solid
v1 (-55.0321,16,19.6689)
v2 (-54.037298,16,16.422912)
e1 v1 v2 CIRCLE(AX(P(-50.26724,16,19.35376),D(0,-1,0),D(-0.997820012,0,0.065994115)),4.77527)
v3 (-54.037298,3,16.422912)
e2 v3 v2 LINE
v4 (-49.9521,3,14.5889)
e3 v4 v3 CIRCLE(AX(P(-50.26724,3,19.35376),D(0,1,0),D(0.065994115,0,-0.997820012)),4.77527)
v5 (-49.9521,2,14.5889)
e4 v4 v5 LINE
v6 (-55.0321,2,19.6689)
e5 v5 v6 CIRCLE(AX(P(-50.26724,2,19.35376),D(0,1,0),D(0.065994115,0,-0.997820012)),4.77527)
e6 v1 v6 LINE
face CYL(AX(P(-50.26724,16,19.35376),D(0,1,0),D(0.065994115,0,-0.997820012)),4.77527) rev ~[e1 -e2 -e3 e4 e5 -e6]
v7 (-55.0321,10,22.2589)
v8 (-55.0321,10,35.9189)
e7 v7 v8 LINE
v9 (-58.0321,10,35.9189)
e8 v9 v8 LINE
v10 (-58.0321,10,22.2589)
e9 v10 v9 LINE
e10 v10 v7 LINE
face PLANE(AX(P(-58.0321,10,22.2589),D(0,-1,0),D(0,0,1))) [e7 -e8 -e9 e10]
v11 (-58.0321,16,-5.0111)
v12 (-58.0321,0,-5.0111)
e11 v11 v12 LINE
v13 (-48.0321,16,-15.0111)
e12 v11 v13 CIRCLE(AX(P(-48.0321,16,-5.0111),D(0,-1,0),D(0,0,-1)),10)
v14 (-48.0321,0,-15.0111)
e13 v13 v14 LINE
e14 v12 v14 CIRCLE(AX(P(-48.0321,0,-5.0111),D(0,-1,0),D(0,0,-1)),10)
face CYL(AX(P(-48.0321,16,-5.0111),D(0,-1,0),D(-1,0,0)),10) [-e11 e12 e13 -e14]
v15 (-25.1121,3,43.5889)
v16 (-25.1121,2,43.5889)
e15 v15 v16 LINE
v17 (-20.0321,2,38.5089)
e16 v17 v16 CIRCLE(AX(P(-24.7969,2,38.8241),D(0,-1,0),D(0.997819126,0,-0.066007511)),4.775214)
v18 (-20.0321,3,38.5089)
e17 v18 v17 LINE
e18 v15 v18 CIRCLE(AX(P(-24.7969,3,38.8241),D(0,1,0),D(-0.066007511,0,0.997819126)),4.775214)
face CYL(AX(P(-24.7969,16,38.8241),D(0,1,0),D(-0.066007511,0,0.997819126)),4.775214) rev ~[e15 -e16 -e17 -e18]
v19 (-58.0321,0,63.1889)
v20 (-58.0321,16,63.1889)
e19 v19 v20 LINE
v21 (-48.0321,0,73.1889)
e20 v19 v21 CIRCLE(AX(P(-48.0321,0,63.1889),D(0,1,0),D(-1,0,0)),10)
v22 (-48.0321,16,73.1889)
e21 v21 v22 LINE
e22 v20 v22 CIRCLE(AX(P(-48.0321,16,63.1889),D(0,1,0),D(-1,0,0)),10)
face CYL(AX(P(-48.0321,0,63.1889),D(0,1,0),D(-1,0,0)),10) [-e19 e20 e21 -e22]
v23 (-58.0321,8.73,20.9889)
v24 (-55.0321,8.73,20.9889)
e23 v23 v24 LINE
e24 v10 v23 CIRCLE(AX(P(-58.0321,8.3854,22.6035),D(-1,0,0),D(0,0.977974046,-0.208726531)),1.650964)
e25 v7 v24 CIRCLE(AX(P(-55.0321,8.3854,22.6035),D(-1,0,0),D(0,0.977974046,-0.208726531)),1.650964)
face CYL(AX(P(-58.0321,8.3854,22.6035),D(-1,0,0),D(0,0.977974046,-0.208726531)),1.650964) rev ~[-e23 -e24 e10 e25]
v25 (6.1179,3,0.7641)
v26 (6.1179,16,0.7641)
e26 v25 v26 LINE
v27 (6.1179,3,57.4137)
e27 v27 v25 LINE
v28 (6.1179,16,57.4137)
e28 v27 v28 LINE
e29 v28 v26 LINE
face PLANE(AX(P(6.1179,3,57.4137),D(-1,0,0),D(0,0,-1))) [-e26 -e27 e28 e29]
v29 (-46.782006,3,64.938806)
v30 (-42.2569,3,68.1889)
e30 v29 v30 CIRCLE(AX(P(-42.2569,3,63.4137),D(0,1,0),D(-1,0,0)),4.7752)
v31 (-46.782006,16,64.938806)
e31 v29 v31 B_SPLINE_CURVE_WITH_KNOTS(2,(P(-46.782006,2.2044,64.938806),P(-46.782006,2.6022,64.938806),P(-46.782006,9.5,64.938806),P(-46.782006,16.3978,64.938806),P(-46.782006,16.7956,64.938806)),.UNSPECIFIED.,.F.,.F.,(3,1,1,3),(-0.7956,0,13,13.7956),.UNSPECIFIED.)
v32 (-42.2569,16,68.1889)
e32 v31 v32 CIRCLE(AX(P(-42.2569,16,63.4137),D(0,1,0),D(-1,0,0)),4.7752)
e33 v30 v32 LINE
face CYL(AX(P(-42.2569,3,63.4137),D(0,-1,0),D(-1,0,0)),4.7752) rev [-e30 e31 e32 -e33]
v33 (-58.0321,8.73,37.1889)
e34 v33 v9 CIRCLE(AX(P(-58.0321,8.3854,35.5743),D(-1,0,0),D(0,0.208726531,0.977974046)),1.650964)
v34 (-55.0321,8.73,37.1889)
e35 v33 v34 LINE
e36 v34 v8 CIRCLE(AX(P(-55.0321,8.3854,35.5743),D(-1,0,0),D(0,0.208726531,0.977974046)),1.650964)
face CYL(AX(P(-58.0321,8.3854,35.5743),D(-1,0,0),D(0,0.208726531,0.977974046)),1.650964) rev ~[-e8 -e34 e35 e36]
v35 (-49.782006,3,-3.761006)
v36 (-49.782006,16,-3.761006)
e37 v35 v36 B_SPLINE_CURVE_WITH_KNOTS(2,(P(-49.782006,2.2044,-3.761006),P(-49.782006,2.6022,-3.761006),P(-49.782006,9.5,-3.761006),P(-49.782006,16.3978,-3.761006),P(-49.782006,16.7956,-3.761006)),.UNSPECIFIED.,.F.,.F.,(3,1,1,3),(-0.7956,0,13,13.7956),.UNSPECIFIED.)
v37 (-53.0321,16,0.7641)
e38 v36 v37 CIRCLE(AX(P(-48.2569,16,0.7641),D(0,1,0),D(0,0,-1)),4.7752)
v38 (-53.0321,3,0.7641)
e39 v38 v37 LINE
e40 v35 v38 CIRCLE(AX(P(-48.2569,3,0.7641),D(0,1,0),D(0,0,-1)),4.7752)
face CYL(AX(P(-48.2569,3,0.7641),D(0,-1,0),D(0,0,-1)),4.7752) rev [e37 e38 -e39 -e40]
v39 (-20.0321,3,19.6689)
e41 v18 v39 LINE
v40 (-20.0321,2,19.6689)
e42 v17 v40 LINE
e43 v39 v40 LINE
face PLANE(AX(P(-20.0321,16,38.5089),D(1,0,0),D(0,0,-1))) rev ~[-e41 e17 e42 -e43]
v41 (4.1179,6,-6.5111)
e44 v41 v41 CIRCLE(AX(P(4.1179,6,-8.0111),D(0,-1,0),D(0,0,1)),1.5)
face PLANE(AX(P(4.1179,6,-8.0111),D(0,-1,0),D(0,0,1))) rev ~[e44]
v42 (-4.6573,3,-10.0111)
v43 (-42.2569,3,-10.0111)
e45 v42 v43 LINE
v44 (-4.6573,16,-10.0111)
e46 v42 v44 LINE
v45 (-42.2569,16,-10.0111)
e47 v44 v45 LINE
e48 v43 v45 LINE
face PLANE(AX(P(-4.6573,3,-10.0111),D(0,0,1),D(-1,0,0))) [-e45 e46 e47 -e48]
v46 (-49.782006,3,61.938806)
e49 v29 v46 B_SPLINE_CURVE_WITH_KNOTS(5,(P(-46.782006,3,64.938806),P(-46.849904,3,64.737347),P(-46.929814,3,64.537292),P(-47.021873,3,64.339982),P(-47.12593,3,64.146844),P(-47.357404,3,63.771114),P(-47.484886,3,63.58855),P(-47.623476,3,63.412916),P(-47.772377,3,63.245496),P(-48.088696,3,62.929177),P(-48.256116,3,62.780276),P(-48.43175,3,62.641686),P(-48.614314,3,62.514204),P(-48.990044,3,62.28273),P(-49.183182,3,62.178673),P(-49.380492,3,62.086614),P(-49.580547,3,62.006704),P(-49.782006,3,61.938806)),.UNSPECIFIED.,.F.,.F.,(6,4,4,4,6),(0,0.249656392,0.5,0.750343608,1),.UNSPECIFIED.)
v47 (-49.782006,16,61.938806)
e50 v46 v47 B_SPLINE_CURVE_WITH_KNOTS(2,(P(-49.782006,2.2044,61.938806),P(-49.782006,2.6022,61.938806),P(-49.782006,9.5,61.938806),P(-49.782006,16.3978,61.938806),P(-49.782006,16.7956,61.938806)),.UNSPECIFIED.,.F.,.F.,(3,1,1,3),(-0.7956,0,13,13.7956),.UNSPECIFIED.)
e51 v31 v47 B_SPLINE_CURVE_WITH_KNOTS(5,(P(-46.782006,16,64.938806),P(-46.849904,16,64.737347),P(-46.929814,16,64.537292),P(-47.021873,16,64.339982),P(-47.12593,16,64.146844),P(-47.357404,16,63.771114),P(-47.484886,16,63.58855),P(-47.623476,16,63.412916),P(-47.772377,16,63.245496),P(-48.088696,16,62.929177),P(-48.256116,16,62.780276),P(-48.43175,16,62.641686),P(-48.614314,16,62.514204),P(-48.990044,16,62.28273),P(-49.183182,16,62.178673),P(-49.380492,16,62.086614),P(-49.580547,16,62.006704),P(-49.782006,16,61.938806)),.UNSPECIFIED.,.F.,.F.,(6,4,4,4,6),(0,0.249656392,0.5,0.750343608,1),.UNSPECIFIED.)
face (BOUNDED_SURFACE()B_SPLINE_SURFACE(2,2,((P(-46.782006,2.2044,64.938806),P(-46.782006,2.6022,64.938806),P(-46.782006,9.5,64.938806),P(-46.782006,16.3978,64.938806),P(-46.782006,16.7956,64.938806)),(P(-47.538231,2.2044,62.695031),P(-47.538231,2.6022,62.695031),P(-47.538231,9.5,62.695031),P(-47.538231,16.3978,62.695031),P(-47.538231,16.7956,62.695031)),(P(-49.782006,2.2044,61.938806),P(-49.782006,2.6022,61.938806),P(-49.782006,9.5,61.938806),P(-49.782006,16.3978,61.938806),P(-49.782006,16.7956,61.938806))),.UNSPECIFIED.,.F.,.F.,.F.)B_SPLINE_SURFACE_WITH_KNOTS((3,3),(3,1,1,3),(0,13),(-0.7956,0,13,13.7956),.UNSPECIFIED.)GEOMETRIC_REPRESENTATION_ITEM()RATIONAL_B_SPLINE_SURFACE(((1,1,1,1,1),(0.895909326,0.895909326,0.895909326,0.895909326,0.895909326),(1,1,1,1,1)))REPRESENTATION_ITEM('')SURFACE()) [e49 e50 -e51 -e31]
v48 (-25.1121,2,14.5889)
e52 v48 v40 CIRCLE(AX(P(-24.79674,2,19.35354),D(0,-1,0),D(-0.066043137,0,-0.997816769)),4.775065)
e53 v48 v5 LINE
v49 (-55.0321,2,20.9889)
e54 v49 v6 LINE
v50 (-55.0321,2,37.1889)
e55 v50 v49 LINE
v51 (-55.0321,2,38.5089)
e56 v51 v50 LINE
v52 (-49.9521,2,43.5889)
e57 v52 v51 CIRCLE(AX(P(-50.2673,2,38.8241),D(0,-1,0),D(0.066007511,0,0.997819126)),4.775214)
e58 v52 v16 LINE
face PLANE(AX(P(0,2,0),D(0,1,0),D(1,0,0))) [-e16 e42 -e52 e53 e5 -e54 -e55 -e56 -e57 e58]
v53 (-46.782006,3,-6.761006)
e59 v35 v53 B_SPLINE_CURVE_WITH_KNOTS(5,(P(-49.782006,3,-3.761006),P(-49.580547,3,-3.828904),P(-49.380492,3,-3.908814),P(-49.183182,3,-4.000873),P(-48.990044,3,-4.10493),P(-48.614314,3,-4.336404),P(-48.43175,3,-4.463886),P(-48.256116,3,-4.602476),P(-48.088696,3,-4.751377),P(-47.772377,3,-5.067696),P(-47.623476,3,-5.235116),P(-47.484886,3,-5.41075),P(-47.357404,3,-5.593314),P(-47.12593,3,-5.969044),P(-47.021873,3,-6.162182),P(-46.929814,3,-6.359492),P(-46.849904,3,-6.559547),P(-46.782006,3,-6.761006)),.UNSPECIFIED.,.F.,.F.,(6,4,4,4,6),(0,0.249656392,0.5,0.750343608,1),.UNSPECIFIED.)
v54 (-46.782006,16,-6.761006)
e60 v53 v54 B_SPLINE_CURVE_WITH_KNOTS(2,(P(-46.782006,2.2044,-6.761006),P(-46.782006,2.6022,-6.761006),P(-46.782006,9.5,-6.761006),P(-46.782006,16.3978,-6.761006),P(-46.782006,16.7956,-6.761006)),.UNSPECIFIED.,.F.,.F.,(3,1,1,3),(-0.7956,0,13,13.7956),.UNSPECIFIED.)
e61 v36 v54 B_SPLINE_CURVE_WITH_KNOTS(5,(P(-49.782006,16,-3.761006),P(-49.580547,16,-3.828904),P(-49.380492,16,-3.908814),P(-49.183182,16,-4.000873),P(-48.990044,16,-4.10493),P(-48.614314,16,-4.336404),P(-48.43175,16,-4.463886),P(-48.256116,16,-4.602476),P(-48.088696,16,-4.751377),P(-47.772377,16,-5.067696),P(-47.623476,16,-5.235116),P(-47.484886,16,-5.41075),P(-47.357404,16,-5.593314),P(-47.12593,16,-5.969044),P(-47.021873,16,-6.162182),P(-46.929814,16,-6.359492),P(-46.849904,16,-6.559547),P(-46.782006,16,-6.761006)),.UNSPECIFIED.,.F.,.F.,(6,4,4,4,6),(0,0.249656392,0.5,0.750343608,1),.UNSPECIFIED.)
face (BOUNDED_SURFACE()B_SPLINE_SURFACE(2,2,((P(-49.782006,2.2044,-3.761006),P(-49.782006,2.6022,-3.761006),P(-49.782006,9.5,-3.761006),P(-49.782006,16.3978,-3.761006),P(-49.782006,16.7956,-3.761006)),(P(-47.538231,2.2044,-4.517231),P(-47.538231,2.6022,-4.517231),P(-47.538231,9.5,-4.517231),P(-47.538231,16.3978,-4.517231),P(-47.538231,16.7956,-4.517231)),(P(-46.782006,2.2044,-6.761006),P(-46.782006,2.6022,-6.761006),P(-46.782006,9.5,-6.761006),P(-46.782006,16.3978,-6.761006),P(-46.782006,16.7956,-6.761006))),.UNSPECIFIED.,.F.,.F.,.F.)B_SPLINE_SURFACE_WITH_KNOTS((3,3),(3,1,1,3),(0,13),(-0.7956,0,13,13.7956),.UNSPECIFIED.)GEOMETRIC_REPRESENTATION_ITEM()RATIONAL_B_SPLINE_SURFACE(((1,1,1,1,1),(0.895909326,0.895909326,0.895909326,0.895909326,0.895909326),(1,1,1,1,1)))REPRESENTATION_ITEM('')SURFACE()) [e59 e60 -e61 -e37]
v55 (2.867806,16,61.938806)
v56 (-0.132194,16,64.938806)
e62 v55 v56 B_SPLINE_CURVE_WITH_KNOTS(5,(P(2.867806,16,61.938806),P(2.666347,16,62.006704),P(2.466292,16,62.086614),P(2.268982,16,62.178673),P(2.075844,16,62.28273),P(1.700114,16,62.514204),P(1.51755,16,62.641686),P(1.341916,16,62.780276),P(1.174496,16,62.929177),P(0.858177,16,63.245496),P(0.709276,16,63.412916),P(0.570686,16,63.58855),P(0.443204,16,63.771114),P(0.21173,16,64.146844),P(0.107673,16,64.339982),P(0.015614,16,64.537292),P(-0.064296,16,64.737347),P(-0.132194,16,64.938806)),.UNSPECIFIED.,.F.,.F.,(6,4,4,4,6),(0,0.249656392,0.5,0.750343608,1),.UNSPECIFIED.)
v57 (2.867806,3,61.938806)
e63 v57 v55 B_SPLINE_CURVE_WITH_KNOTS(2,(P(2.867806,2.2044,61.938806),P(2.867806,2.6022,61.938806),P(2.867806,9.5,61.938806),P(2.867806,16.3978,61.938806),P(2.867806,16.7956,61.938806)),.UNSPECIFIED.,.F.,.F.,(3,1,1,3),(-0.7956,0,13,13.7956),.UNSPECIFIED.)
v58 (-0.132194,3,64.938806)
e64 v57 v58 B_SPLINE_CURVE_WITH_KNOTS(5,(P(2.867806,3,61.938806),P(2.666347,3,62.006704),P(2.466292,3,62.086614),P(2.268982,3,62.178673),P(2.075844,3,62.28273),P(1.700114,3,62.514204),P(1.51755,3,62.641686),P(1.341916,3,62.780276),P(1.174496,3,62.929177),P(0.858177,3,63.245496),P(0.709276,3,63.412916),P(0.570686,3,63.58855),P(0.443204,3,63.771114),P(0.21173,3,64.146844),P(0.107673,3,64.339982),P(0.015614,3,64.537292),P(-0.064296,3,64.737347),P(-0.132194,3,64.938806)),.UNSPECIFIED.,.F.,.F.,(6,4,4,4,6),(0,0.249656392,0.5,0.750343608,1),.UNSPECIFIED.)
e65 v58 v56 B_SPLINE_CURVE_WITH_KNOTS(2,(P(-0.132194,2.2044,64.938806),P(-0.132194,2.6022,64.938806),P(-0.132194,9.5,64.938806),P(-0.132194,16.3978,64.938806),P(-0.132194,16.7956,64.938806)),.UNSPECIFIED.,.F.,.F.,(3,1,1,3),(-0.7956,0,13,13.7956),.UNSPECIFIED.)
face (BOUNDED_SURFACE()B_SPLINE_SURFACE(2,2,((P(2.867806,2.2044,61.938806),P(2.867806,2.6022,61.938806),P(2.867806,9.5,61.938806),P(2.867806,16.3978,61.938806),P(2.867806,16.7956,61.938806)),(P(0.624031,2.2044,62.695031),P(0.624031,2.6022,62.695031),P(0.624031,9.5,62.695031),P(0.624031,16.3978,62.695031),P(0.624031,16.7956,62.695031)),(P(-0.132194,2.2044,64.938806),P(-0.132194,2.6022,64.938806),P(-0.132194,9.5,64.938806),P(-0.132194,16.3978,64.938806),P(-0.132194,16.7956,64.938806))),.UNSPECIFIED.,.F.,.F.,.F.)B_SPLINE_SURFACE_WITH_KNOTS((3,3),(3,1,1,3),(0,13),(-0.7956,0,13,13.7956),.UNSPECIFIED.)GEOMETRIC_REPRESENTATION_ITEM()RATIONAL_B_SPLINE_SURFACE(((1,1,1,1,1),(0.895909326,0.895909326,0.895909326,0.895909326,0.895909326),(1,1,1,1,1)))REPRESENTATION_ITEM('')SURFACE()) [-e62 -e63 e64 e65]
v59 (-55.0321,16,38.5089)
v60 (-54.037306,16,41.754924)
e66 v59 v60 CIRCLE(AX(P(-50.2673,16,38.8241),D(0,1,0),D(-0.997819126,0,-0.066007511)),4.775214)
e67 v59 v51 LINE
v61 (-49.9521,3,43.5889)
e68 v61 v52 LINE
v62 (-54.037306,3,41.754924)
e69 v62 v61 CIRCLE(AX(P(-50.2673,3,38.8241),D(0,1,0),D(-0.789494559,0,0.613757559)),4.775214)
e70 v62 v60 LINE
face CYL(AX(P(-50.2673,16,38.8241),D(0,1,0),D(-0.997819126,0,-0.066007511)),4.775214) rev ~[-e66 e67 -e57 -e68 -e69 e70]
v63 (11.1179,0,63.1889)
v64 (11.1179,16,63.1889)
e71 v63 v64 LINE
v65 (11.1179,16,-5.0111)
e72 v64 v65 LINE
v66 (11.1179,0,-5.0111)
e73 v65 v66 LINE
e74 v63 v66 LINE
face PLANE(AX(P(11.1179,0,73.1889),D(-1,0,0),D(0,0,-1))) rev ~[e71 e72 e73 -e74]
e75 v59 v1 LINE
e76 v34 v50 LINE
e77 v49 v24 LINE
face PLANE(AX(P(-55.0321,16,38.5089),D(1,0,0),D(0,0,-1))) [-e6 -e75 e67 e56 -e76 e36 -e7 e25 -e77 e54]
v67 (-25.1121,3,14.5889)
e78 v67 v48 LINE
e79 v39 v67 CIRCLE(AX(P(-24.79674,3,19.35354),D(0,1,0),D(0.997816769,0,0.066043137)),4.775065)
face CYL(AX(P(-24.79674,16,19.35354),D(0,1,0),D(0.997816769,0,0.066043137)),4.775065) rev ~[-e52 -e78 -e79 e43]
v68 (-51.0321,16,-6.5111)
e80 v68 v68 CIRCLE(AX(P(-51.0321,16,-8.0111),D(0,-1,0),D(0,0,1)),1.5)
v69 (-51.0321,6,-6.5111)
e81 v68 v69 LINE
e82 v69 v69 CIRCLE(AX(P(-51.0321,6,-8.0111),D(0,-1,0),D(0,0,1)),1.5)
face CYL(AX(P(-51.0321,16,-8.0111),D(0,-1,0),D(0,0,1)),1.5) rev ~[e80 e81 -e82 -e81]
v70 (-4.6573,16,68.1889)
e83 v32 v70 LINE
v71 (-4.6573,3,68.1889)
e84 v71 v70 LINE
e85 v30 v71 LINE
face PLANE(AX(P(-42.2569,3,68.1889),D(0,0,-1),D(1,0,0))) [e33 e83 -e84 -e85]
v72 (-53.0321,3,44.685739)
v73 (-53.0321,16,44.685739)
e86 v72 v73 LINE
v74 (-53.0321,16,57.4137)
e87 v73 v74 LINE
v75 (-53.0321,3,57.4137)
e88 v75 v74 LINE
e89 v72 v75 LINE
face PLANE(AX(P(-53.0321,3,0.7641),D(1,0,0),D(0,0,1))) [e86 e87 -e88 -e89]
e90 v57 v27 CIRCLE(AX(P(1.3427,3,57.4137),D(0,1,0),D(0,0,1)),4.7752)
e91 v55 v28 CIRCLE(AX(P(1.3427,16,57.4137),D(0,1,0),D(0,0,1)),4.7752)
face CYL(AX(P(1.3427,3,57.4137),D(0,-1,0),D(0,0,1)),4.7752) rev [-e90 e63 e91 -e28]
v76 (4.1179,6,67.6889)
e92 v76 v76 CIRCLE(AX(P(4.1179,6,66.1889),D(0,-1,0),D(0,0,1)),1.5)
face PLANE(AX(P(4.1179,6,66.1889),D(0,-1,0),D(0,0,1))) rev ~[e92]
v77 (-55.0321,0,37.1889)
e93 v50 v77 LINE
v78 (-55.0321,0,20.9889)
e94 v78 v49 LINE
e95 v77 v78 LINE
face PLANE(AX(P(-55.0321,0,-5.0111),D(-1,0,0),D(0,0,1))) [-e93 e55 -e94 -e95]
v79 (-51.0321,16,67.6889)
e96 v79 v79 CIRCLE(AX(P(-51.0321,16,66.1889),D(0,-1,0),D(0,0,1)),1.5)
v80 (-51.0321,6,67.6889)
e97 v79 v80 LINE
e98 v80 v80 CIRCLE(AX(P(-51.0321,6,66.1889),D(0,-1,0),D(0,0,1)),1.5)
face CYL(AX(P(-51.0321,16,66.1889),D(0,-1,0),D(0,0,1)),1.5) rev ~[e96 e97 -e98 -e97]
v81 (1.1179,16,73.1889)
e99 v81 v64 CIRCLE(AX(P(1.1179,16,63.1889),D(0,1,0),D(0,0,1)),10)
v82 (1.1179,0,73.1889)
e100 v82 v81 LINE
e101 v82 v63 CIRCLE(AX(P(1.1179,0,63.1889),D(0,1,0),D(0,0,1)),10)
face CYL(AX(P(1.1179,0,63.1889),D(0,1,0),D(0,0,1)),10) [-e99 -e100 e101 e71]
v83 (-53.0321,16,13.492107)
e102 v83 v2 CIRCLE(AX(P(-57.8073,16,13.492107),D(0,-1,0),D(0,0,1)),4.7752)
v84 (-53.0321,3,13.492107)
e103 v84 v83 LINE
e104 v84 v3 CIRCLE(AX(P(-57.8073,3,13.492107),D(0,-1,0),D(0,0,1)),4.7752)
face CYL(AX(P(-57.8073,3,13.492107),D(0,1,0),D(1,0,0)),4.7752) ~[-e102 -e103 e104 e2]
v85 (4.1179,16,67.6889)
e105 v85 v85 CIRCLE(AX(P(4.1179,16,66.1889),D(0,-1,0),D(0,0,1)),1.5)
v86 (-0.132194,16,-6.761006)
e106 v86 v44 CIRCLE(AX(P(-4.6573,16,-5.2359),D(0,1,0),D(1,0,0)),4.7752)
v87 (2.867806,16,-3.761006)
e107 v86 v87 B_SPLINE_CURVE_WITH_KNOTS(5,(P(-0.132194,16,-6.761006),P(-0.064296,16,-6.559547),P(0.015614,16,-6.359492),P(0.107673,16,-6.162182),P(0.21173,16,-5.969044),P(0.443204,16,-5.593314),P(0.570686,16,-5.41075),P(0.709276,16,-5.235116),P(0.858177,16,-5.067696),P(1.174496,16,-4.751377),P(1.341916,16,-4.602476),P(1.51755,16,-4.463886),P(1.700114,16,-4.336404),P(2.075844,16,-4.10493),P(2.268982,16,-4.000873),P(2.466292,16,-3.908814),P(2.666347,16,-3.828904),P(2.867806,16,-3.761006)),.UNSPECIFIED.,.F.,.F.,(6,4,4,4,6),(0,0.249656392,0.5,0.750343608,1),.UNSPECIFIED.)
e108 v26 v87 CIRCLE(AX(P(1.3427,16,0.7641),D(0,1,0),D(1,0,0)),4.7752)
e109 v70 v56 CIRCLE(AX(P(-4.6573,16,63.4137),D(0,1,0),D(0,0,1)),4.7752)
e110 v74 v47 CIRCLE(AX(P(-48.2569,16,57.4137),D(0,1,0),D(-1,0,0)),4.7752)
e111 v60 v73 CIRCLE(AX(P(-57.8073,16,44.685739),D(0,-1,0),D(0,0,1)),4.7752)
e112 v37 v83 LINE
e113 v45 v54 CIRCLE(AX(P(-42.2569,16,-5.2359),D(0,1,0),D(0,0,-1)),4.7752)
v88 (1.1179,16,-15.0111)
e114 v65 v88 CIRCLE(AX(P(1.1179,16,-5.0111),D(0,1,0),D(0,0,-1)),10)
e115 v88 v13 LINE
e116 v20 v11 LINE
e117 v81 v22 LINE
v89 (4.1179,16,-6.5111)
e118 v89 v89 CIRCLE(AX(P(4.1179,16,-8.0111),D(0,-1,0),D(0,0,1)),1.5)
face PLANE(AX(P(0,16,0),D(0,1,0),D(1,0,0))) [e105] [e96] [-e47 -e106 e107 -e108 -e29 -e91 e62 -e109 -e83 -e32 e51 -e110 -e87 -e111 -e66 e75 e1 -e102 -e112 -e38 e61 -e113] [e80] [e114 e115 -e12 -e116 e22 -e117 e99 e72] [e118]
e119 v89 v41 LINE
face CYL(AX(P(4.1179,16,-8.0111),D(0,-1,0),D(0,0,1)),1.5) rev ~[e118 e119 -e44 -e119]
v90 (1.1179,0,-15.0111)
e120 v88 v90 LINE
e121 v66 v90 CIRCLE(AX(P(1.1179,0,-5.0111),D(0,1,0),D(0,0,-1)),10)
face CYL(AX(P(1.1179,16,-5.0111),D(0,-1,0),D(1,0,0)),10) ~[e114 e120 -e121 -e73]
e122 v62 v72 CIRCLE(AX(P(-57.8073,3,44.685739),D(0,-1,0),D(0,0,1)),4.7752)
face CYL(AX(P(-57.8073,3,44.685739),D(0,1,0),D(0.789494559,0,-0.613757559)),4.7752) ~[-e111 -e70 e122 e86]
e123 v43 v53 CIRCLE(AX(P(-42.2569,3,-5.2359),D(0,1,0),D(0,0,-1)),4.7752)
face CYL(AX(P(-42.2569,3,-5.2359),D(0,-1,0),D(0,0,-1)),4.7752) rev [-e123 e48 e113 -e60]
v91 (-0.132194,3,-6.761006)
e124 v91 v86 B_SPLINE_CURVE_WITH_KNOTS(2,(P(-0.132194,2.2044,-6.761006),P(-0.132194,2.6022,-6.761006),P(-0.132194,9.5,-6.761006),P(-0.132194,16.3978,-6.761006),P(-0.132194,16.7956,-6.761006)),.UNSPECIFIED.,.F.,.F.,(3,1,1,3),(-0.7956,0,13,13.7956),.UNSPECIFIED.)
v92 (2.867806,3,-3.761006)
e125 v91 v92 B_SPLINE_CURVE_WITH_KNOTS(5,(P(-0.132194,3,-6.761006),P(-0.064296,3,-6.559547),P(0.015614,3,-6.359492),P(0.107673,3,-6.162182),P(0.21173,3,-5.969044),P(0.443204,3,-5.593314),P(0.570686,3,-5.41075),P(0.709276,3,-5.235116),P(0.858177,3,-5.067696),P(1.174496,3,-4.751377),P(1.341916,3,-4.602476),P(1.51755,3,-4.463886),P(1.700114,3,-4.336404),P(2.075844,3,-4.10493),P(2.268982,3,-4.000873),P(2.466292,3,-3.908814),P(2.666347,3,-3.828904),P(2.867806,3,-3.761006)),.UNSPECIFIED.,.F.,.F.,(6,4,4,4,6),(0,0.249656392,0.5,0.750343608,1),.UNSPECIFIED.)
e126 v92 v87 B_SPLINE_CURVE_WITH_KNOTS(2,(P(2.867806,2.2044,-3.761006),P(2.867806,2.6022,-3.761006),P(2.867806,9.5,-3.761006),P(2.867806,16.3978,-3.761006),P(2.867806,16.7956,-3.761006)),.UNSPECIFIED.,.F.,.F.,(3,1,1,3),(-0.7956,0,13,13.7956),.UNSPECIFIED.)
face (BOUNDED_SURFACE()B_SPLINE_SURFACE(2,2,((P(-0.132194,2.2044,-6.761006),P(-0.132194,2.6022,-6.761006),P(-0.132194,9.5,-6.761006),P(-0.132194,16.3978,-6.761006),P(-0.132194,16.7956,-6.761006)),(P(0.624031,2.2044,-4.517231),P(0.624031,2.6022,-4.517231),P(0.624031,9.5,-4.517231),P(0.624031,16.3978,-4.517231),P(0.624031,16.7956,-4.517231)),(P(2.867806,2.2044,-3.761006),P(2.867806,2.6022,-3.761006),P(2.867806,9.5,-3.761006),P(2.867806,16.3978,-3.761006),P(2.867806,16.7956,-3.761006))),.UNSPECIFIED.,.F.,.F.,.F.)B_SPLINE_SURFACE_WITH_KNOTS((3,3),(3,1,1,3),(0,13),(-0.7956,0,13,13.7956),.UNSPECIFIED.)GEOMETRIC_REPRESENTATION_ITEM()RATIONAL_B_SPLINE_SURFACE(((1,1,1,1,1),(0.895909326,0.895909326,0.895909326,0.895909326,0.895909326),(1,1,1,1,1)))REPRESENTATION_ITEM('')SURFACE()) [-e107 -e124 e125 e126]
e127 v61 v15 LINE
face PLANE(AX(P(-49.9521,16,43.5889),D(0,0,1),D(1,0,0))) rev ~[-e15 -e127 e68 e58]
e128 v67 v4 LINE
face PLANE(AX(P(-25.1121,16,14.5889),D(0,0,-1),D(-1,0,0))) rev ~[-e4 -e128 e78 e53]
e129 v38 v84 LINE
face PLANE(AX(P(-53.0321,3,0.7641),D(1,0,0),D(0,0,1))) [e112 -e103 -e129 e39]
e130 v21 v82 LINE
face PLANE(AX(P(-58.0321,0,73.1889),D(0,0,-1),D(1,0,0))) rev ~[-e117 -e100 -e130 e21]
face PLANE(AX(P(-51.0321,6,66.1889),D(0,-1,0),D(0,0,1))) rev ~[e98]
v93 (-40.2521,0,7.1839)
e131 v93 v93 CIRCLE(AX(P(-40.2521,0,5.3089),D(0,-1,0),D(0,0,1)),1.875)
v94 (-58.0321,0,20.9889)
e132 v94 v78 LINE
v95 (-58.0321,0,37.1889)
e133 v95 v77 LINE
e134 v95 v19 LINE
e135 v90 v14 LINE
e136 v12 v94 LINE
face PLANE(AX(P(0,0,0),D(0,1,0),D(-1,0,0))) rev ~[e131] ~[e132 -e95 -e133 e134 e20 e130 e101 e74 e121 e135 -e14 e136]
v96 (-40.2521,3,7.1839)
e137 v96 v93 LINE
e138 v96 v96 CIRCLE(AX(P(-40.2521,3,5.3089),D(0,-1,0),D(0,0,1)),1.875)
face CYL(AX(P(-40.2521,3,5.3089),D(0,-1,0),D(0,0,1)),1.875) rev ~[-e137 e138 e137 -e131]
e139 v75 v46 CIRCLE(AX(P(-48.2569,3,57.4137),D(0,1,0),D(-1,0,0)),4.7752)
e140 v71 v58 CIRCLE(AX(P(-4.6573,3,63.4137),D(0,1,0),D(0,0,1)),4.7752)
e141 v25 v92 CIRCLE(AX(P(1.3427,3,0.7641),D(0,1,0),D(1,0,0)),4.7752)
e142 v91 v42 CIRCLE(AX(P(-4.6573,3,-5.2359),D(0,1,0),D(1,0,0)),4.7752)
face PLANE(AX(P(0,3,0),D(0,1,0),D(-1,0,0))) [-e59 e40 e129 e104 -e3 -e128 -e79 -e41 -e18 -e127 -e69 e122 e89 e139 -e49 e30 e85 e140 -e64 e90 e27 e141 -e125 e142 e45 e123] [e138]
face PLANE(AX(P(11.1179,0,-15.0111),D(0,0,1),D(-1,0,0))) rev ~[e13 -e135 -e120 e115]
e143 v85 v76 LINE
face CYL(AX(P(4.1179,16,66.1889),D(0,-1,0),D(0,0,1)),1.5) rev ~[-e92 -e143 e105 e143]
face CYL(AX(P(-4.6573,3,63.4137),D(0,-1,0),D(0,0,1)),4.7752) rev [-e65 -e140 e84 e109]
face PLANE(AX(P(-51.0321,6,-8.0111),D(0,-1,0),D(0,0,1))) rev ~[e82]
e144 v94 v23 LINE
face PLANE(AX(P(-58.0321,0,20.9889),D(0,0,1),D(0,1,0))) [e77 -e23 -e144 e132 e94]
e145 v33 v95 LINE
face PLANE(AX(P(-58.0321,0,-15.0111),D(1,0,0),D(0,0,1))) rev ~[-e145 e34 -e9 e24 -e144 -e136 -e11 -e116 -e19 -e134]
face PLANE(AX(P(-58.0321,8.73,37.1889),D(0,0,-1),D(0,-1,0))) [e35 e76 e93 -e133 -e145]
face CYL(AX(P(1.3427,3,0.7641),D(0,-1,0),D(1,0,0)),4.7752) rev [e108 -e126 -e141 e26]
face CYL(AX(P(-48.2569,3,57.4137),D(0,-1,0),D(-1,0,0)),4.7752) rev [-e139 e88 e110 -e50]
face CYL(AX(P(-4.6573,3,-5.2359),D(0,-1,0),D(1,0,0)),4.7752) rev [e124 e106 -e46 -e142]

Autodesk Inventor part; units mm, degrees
ref_plane "YZ Plane" through (0, 0, 0) normal (1, 0, 0) x (0, 1, 0)
ref_plane "XZ Plane" through (0, 0, 0) normal (0, 1, 0) x (-1, 0, 0)
ref_plane "XY Plane" through (0, 0, 0) normal (0, 0, 1) x (1, 0, 0)
sketch "Sketch1" plane through (0, 0, 0) normal (0, 1, 0) x (-1, 0, 0)
  line L0 (58.0321, 73.1889) -> (-11.1179, 73.1889)
  line L1 (-11.1179, 73.1889) -> (-11.1179, -15.0111)
  line L2 (-11.1179, -15.0111) -> (58.0321, -15.0111)
  line L3 (58.0321, -15.0111) -> (58.0321, 73.1889)
  point P0 (0, 0)
  dimension "d0" = 88.2
  dimension "d1" = 69.15
extrude "Extrusion1" add sketch "Sketch1" along normal blind 3
sketch "Sketch2" plane through (0, 3, 0) normal (0, 1, 0) x (1, 0, 0)
  line L0 (-58.0321, -73.1889) -> (11.1179, -73.1889) projected
  line L1 (11.1179, -73.1889) -> (11.1179, 15.0111) projected
  line L2 (-58.0321, -73.1889) -> (11.1179, -73.1889)
  line L3 (11.1179, -73.1889) -> (11.1179, 15.0111)
  line L4 (11.1179, 15.0111) -> (-58.0321, 15.0111)
  line L5 (-58.0321, 15.0111) -> (-58.0321, -73.1889)
  line L6 (-53.0321, -68.1889) -> (6.1179, -68.1889)
  line L7 (6.1179, -68.1889) -> (6.1179, 10.0111)
  line L8 (6.1179, 10.0111) -> (-53.0321, 10.0111)
  line L9 (-53.0321, 10.0111) -> (-53.0321, -68.1889)
  line L10 (-58.0321, 15.0111) -> (-58.0321, -73.1889) projected
  line L11 (-58.0321, -73.1889) -> (-47.0321, -73.1889)
  line L12 (-47.0321, -73.1889) -> (-47.0321, -62.1889)
  line L13 (-47.0321, -62.1889) -> (-58.0321, -62.1889)
  line L14 (-58.0321, -62.1889) -> (-58.0321, -73.1889)
  line L15 (-58.0321, 15.0111) -> (-47.0321, 15.0111)
  line L16 (-47.0321, 15.0111) -> (-47.0321, 4.0111)
  line L17 (-47.0321, 4.0111) -> (-58.0321, 4.0111)
  line L18 (-58.0321, 4.0111) -> (-58.0321, 15.0111)
  line L19 (11.1179, 15.0111) -> (0.1179, 15.0111)
  line L20 (0.1179, 15.0111) -> (0.1179, 4.0111)
  line L21 (0.1179, 4.0111) -> (11.1179, 4.0111)
  line L22 (11.1179, 4.0111) -> (11.1179, 15.0111)
  line L23 (11.1179, -73.1889) -> (0.1179, -73.1889)
  line L24 (0.1179, -73.1889) -> (0.1179, -62.1889)
  line L25 (0.1179, -62.1889) -> (11.1179, -62.1889)
  line L26 (11.1179, -62.1889) -> (11.1179, -73.1889)
  arc A0 (1.3427, -62.1889) -> (6.1179, -57.4137) centre (1.3427, -57.4137) ccw
  arc A1 (-4.6573, -68.1889) -> (0.1179, -63.4137) centre (-4.6573, -63.4137) ccw
  arc A2 (-47.0321, -63.4137) -> (-42.2569, -68.1889) centre (-42.2569, -63.4137) ccw
  arc A3 (-53.0321, -57.4137) -> (-48.2569, -62.1889) centre (-48.2569, -57.4137) ccw
  arc A4 (-48.2569, 4.0111) -> (-53.0321, -0.7641) centre (-48.2569, -0.7641) ccw
  arc A5 (-42.2569, 10.0111) -> (-47.0321, 5.2359) centre (-42.2569, 5.2359) ccw
  arc A6 (0.1179, 5.2359) -> (-4.6573, 10.0111) centre (-4.6573, 5.2359) ccw
  arc A7 (6.1179, -0.7641) -> (1.3427, 4.0111) centre (1.3427, -0.7641) ccw
  point P0 (0, 0)
  dimension "d4" = 5
  dimension "d5" = 5
  dimension "d6" = 5
  dimension "d7" = 5
  dimension "d8" = 6
  dimension "d9" = 6
  dimension "d10" = 6
  dimension "d11" = 6
  dimension "d12" = 6
  dimension "d13" = 6
  dimension "d14" = 6
  dimension "d15" = 6
  dimension "d16" = 4.7752
  dimension "d17" = 4.7752
  dimension "d18" = 4.7752
  dimension "d19" = 4.7752
  dimension "d20" = 4.7752
  dimension "d21" = 4.7752
  dimension "d22" = 4.7752
  dimension "d23" = 4.7752
  dimension "d24" = 4.7752
  dimension "d25" = 4.7752
  dimension "d26" = 4.7752
  dimension "d27" = 4.7752
  dimension "d28" = 4.7752
  dimension "d29" = 4.7752
  dimension "d30" = 4.7752
  dimension "d31" = 4.7752
  dimension "d32" = 4.7752
  dimension "d33" = 4.7752
  dimension "d34" = 4.7752
  dimension "d35" = 4.7752
  dimension "d36" = 4.7752
  dimension "d37" = 4.7752
  dimension "d38" = 4.7752
  dimension "d39" = 4.7752
extrude "Extrusion3" add sketch "Sketch2" along normal blind 13 contours L5 L13 L9 L6 L12 L0 | L12 L6 L24 L0 | L5 L17 L9 L13 | L24 L6 L7 L25 L1 L0 | L12 A2 L6 | L6 L9 L13 L12 | L5 L4 L16 L8 L9 L17 | L9 A3 L13 | L24 L25 L7 L6 | L6 A1 L24 | L17 A4 L9 | L9 L8 L16 L17 | L25 L7 L21 L1 | L4 L20 L8 L16 | L21 L7 L8 L20 L4 L1 | L25 A0 L7 | L8 A5 L16 | L21 L20 L8 L7 | L7 A7 L21 | L20 A6 L8
fillet "Fillet1" radius 4.7752 4 edges at (0.1179, 9.5, 62.1889) (-47.0321, 9.5, 62.1889) (-47.0321, 9.5, -4.0111) (0.1179, 9.5, -4.0111)
fillet "Fillet2" radius 10 4 edges at (11.1179, 8, 73.1889) (-58.0321, 8, 73.1889) (11.1179, 8, -15.0111) (-58.0321, 8, -15.0111)
sketch "Sketch4" plane through (11.1179, 0, 63.1889) normal (1, 0, 0) x (0, 0, -1)
  point P0 (63.1889, 0)
sketch "Sketch5" plane through (-58.0321, 0, -5.0111) normal (-1, 0, 0) x (0, 0, 1)
  line L0 (68.2, 0) -> (0, 0) projected
  line L1 (42.2, 0) -> (26, 0)
  line L2 (26, 0) -> (26, 10)
  line L3 (26, 10) -> (42.2, 10)
  line L4 (42.2, 10) -> (42.2, 0)
  line L5 (78.2, 0) -> (78.2, 16) projected
  line L6 (-10, 16) -> (-10, 0) projected
  arc A0 (42.2, 8.73) -> (40.93, 10) centre (40.5854, 8.3854) ccw
  arc A1 (27.27, 10) -> (26, 8.73) centre (27.6146, 8.3854) ccw
  point P0 (5.0111, 0)
  dimension "d48" = 10
  dimension "d49" = 16.2
  dimension "d50" = 1.27
  dimension "d51" = 1.27
  dimension "d52" = 1.27
  dimension "d53" = 1.27
  dimension "d54" = 1.651
  dimension "d55" = 1.651
  dimension "d58" = 88.2
  dimension "d59" = 36
  dimension "d60" = 36
extrude "Extrusion4" cut sketch "Sketch5" against normal blind 3 contours L0 L2 A1 L3 A0 L4
sketch "Sketch7" plane through (0, 16, 0) normal (0, 1, 0) x (1, 0, 0)
  line L0 (-53.0321, -0.7641) -> (-53.0321, -57.4137) projected
  line L1 (-53.0321, -43.5889) -> (-55.0321, -43.5889)
  line L2 (-55.0321, -43.5889) -> (-55.0321, -14.5889)
  line L3 (-55.0321, -14.5889) -> (-53.0321, -14.5889)
  line L4 (-53.0321, -14.5889) -> (-53.0321, -43.5889)
  line L5 (-48.0321, -73.1889) -> (1.1179, -73.1889) projected
  line L6 (1.1179, 15.0111) -> (-48.0321, 15.0111) projected
  line L7 (-55.0321, -43.5889) -> (-20.0321, -43.5889)
  line L8 (-20.0321, -43.5889) -> (-20.0321, -14.5889)
  line L9 (-20.0321, -14.5889) -> (-55.0321, -14.5889)
  line L10 (-55.0321, -14.5889) -> (-55.0321, -43.5889)
  arc A0 (-55.0321, -38.5089) -> (-49.9521, -43.5889) centre (-50.2673, -38.8241) ccw
  arc A1 (-49.9521, -14.5889) -> (-55.0321, -19.6689) centre (-50.2673, -19.3536) ccw
  arc A2 (-25.1121, -43.5889) -> (-20.0321, -38.5089) centre (-24.7969, -38.8241) ccw
  arc A3 (-20.0321, -19.6689) -> (-25.1121, -14.5889) centre (-24.7969, -19.3536) ccw
  point P0 (0, 0)
  dimension "d61" = 29.6
  dimension "d62" = 88.2
  dimension "d63" = 29
  dimension "d64" = 2
  dimension "d65" = 35
  dimension "d66" = 5.08
  dimension "d67" = 5.08
  dimension "d68" = 5.08
  dimension "d69" = 5.08
  dimension "d70" = 5.08
  dimension "d71" = 5.08
  dimension "d72" = 5.08
  dimension "d73" = 5.08
  dimension "d75" = 4.7752
  dimension "d76" = 4.7752
  dimension "d77" = 4.7752
  dimension "d78" = 29
  dimension "d82" = 4.7752
  dimension "d107" = 18.84
extrude "Extrusion5" cut sketch "Sketch7" against normal blind 14 contours A1 L9 A3 L8 A2 L7 A0 L0 | L0 A0 L2 A1 | A1 L9 | L2 A1 | A0 L2 | L7 A0 | A3 L9 | L7 A2 | A3 L8 | L8 A2
fillet "Fillet3" radius 4.7752 2 edges at (-53.0321, 9.5, 42.7175) (-53.0321, 9.5, 15.4602)
sketch "Sketch8" plane through (0, 16, 0) normal (0, 1, 0) x (1, 0, 0)
  line L0 (-48.0321, -73.1889) -> (1.1179, -73.1889) projected
  line L1 (-58.0321, 5.0111) -> (-58.0321, -63.1889) projected
  line L2 (11.1179, -63.1889) -> (11.1179, 5.0111) projected
  line L3 (1.1179, 15.0111) -> (-48.0321, 15.0111) projected
  point P0 (0, 0)
  point P1 (-51.0321, 8.0111)
  point P2 (4.1179, 8.0111)
  point P3 (4.1179, -66.1889)
  point P4 (-51.0321, -66.1889)
  dimension "d83" = 7
  dimension "d84" = 7
  dimension "d85" = 7
  dimension "d86" = 7
  dimension "d87" = 7
  dimension "d88" = 7
  dimension "d89" = 7
  dimension "d90" = 7
hole "Hole1" at (-51.0321, 16, -8.0111) at (4.1179, 16, -8.0111) at (4.1179, 16, 66.1889) at (-51.0321, 16, 66.1889) direction (0, -1, 0) diameter 3 depth 10
sketch "Sketch9" plane through (0, 3, 0) normal (0, 1, 0) x (1, 0, 0)
  line L0 (1.1179, 15.0111) -> (-48.0321, 15.0111) projected
  line L1 (-58.0321, 5.0111) -> (-58.0321, -63.1889) projected
  point P0 (0, 0)
  point P1 (-40.2521, -5.3089)
  dimension "d98" = 20.32
  dimension "d99" = 17.78
hole "Hole2" at (-40.2521, 3, 5.3089) direction (0, -1, 0) diameter 3.75 depth 10
equation "\"d5\" = d4"
equation "\"d6\" = d4"
equation "\"d7\" = d4"
equation "\"d9\" = d8"
equation "\"d10\" = d8"
equation "\"d11\" = d8"
equation "\"d12\" = d8"
equation "\"d14\" = d8"
equation "\"d15\" = d9"
equation "\"d17\" = d16"
equation "\"d18\" = d16"
equation "\"d19\" = d18"
equation "\"d25\" = d24"
equation "\"d26\" = d25"
equation "\"d27\" = d25"
equation "\"d28\" = d21"
equation "\"d29\" = d28"
equation "\"d30\" = d16"
equation "\"d31\" = d28"
equation "\"d32\" = d31"
equation "\"d33\" = d30"
equation "\"d34\" = d31"
equation "\"d35\" = d34"
equation "\"d36\" = d33"
equation "\"d37\" = d34"
equation "\"d38\" = d37"
equation "\"d39\" = d36"
equation "\"d51\" = d50"
equation "\"d52\" = d50"
equation "\"d53\" = d50"
equation "\"d54\" = d55"
equation "\"d59\" = -0.5 * d49 + 0.5 * d58"
equation "\"d61\" = -0.5 * d63 + 0.5 * d62"
equation "\"d67\" = d66"
equation "\"d68\" = d67"
equation "\"d69\" = d68"
equation "\"d70\" = d67"
equation "\"d71\" = d70"
equation "\"d72\" = d73"
equation "\"d73\" = d71"
equation "\"d76\" = d74"
equation "\"d77\" = d74"
equation "\"d78\" = d63"
equation "\"d82\" = d75"
equation "\"d84\" = d83"
equation "\"d85\" = d83"
equation "\"d86\" = d83"
equation "\"d87\" = d83"
equation "\"d88\" = d87"
equation "\"d89\" = d88"
equation "\"d90\" = d88"
equation "\"d74\" = 4.7752"
properties part number "macropad-frame-v2"
